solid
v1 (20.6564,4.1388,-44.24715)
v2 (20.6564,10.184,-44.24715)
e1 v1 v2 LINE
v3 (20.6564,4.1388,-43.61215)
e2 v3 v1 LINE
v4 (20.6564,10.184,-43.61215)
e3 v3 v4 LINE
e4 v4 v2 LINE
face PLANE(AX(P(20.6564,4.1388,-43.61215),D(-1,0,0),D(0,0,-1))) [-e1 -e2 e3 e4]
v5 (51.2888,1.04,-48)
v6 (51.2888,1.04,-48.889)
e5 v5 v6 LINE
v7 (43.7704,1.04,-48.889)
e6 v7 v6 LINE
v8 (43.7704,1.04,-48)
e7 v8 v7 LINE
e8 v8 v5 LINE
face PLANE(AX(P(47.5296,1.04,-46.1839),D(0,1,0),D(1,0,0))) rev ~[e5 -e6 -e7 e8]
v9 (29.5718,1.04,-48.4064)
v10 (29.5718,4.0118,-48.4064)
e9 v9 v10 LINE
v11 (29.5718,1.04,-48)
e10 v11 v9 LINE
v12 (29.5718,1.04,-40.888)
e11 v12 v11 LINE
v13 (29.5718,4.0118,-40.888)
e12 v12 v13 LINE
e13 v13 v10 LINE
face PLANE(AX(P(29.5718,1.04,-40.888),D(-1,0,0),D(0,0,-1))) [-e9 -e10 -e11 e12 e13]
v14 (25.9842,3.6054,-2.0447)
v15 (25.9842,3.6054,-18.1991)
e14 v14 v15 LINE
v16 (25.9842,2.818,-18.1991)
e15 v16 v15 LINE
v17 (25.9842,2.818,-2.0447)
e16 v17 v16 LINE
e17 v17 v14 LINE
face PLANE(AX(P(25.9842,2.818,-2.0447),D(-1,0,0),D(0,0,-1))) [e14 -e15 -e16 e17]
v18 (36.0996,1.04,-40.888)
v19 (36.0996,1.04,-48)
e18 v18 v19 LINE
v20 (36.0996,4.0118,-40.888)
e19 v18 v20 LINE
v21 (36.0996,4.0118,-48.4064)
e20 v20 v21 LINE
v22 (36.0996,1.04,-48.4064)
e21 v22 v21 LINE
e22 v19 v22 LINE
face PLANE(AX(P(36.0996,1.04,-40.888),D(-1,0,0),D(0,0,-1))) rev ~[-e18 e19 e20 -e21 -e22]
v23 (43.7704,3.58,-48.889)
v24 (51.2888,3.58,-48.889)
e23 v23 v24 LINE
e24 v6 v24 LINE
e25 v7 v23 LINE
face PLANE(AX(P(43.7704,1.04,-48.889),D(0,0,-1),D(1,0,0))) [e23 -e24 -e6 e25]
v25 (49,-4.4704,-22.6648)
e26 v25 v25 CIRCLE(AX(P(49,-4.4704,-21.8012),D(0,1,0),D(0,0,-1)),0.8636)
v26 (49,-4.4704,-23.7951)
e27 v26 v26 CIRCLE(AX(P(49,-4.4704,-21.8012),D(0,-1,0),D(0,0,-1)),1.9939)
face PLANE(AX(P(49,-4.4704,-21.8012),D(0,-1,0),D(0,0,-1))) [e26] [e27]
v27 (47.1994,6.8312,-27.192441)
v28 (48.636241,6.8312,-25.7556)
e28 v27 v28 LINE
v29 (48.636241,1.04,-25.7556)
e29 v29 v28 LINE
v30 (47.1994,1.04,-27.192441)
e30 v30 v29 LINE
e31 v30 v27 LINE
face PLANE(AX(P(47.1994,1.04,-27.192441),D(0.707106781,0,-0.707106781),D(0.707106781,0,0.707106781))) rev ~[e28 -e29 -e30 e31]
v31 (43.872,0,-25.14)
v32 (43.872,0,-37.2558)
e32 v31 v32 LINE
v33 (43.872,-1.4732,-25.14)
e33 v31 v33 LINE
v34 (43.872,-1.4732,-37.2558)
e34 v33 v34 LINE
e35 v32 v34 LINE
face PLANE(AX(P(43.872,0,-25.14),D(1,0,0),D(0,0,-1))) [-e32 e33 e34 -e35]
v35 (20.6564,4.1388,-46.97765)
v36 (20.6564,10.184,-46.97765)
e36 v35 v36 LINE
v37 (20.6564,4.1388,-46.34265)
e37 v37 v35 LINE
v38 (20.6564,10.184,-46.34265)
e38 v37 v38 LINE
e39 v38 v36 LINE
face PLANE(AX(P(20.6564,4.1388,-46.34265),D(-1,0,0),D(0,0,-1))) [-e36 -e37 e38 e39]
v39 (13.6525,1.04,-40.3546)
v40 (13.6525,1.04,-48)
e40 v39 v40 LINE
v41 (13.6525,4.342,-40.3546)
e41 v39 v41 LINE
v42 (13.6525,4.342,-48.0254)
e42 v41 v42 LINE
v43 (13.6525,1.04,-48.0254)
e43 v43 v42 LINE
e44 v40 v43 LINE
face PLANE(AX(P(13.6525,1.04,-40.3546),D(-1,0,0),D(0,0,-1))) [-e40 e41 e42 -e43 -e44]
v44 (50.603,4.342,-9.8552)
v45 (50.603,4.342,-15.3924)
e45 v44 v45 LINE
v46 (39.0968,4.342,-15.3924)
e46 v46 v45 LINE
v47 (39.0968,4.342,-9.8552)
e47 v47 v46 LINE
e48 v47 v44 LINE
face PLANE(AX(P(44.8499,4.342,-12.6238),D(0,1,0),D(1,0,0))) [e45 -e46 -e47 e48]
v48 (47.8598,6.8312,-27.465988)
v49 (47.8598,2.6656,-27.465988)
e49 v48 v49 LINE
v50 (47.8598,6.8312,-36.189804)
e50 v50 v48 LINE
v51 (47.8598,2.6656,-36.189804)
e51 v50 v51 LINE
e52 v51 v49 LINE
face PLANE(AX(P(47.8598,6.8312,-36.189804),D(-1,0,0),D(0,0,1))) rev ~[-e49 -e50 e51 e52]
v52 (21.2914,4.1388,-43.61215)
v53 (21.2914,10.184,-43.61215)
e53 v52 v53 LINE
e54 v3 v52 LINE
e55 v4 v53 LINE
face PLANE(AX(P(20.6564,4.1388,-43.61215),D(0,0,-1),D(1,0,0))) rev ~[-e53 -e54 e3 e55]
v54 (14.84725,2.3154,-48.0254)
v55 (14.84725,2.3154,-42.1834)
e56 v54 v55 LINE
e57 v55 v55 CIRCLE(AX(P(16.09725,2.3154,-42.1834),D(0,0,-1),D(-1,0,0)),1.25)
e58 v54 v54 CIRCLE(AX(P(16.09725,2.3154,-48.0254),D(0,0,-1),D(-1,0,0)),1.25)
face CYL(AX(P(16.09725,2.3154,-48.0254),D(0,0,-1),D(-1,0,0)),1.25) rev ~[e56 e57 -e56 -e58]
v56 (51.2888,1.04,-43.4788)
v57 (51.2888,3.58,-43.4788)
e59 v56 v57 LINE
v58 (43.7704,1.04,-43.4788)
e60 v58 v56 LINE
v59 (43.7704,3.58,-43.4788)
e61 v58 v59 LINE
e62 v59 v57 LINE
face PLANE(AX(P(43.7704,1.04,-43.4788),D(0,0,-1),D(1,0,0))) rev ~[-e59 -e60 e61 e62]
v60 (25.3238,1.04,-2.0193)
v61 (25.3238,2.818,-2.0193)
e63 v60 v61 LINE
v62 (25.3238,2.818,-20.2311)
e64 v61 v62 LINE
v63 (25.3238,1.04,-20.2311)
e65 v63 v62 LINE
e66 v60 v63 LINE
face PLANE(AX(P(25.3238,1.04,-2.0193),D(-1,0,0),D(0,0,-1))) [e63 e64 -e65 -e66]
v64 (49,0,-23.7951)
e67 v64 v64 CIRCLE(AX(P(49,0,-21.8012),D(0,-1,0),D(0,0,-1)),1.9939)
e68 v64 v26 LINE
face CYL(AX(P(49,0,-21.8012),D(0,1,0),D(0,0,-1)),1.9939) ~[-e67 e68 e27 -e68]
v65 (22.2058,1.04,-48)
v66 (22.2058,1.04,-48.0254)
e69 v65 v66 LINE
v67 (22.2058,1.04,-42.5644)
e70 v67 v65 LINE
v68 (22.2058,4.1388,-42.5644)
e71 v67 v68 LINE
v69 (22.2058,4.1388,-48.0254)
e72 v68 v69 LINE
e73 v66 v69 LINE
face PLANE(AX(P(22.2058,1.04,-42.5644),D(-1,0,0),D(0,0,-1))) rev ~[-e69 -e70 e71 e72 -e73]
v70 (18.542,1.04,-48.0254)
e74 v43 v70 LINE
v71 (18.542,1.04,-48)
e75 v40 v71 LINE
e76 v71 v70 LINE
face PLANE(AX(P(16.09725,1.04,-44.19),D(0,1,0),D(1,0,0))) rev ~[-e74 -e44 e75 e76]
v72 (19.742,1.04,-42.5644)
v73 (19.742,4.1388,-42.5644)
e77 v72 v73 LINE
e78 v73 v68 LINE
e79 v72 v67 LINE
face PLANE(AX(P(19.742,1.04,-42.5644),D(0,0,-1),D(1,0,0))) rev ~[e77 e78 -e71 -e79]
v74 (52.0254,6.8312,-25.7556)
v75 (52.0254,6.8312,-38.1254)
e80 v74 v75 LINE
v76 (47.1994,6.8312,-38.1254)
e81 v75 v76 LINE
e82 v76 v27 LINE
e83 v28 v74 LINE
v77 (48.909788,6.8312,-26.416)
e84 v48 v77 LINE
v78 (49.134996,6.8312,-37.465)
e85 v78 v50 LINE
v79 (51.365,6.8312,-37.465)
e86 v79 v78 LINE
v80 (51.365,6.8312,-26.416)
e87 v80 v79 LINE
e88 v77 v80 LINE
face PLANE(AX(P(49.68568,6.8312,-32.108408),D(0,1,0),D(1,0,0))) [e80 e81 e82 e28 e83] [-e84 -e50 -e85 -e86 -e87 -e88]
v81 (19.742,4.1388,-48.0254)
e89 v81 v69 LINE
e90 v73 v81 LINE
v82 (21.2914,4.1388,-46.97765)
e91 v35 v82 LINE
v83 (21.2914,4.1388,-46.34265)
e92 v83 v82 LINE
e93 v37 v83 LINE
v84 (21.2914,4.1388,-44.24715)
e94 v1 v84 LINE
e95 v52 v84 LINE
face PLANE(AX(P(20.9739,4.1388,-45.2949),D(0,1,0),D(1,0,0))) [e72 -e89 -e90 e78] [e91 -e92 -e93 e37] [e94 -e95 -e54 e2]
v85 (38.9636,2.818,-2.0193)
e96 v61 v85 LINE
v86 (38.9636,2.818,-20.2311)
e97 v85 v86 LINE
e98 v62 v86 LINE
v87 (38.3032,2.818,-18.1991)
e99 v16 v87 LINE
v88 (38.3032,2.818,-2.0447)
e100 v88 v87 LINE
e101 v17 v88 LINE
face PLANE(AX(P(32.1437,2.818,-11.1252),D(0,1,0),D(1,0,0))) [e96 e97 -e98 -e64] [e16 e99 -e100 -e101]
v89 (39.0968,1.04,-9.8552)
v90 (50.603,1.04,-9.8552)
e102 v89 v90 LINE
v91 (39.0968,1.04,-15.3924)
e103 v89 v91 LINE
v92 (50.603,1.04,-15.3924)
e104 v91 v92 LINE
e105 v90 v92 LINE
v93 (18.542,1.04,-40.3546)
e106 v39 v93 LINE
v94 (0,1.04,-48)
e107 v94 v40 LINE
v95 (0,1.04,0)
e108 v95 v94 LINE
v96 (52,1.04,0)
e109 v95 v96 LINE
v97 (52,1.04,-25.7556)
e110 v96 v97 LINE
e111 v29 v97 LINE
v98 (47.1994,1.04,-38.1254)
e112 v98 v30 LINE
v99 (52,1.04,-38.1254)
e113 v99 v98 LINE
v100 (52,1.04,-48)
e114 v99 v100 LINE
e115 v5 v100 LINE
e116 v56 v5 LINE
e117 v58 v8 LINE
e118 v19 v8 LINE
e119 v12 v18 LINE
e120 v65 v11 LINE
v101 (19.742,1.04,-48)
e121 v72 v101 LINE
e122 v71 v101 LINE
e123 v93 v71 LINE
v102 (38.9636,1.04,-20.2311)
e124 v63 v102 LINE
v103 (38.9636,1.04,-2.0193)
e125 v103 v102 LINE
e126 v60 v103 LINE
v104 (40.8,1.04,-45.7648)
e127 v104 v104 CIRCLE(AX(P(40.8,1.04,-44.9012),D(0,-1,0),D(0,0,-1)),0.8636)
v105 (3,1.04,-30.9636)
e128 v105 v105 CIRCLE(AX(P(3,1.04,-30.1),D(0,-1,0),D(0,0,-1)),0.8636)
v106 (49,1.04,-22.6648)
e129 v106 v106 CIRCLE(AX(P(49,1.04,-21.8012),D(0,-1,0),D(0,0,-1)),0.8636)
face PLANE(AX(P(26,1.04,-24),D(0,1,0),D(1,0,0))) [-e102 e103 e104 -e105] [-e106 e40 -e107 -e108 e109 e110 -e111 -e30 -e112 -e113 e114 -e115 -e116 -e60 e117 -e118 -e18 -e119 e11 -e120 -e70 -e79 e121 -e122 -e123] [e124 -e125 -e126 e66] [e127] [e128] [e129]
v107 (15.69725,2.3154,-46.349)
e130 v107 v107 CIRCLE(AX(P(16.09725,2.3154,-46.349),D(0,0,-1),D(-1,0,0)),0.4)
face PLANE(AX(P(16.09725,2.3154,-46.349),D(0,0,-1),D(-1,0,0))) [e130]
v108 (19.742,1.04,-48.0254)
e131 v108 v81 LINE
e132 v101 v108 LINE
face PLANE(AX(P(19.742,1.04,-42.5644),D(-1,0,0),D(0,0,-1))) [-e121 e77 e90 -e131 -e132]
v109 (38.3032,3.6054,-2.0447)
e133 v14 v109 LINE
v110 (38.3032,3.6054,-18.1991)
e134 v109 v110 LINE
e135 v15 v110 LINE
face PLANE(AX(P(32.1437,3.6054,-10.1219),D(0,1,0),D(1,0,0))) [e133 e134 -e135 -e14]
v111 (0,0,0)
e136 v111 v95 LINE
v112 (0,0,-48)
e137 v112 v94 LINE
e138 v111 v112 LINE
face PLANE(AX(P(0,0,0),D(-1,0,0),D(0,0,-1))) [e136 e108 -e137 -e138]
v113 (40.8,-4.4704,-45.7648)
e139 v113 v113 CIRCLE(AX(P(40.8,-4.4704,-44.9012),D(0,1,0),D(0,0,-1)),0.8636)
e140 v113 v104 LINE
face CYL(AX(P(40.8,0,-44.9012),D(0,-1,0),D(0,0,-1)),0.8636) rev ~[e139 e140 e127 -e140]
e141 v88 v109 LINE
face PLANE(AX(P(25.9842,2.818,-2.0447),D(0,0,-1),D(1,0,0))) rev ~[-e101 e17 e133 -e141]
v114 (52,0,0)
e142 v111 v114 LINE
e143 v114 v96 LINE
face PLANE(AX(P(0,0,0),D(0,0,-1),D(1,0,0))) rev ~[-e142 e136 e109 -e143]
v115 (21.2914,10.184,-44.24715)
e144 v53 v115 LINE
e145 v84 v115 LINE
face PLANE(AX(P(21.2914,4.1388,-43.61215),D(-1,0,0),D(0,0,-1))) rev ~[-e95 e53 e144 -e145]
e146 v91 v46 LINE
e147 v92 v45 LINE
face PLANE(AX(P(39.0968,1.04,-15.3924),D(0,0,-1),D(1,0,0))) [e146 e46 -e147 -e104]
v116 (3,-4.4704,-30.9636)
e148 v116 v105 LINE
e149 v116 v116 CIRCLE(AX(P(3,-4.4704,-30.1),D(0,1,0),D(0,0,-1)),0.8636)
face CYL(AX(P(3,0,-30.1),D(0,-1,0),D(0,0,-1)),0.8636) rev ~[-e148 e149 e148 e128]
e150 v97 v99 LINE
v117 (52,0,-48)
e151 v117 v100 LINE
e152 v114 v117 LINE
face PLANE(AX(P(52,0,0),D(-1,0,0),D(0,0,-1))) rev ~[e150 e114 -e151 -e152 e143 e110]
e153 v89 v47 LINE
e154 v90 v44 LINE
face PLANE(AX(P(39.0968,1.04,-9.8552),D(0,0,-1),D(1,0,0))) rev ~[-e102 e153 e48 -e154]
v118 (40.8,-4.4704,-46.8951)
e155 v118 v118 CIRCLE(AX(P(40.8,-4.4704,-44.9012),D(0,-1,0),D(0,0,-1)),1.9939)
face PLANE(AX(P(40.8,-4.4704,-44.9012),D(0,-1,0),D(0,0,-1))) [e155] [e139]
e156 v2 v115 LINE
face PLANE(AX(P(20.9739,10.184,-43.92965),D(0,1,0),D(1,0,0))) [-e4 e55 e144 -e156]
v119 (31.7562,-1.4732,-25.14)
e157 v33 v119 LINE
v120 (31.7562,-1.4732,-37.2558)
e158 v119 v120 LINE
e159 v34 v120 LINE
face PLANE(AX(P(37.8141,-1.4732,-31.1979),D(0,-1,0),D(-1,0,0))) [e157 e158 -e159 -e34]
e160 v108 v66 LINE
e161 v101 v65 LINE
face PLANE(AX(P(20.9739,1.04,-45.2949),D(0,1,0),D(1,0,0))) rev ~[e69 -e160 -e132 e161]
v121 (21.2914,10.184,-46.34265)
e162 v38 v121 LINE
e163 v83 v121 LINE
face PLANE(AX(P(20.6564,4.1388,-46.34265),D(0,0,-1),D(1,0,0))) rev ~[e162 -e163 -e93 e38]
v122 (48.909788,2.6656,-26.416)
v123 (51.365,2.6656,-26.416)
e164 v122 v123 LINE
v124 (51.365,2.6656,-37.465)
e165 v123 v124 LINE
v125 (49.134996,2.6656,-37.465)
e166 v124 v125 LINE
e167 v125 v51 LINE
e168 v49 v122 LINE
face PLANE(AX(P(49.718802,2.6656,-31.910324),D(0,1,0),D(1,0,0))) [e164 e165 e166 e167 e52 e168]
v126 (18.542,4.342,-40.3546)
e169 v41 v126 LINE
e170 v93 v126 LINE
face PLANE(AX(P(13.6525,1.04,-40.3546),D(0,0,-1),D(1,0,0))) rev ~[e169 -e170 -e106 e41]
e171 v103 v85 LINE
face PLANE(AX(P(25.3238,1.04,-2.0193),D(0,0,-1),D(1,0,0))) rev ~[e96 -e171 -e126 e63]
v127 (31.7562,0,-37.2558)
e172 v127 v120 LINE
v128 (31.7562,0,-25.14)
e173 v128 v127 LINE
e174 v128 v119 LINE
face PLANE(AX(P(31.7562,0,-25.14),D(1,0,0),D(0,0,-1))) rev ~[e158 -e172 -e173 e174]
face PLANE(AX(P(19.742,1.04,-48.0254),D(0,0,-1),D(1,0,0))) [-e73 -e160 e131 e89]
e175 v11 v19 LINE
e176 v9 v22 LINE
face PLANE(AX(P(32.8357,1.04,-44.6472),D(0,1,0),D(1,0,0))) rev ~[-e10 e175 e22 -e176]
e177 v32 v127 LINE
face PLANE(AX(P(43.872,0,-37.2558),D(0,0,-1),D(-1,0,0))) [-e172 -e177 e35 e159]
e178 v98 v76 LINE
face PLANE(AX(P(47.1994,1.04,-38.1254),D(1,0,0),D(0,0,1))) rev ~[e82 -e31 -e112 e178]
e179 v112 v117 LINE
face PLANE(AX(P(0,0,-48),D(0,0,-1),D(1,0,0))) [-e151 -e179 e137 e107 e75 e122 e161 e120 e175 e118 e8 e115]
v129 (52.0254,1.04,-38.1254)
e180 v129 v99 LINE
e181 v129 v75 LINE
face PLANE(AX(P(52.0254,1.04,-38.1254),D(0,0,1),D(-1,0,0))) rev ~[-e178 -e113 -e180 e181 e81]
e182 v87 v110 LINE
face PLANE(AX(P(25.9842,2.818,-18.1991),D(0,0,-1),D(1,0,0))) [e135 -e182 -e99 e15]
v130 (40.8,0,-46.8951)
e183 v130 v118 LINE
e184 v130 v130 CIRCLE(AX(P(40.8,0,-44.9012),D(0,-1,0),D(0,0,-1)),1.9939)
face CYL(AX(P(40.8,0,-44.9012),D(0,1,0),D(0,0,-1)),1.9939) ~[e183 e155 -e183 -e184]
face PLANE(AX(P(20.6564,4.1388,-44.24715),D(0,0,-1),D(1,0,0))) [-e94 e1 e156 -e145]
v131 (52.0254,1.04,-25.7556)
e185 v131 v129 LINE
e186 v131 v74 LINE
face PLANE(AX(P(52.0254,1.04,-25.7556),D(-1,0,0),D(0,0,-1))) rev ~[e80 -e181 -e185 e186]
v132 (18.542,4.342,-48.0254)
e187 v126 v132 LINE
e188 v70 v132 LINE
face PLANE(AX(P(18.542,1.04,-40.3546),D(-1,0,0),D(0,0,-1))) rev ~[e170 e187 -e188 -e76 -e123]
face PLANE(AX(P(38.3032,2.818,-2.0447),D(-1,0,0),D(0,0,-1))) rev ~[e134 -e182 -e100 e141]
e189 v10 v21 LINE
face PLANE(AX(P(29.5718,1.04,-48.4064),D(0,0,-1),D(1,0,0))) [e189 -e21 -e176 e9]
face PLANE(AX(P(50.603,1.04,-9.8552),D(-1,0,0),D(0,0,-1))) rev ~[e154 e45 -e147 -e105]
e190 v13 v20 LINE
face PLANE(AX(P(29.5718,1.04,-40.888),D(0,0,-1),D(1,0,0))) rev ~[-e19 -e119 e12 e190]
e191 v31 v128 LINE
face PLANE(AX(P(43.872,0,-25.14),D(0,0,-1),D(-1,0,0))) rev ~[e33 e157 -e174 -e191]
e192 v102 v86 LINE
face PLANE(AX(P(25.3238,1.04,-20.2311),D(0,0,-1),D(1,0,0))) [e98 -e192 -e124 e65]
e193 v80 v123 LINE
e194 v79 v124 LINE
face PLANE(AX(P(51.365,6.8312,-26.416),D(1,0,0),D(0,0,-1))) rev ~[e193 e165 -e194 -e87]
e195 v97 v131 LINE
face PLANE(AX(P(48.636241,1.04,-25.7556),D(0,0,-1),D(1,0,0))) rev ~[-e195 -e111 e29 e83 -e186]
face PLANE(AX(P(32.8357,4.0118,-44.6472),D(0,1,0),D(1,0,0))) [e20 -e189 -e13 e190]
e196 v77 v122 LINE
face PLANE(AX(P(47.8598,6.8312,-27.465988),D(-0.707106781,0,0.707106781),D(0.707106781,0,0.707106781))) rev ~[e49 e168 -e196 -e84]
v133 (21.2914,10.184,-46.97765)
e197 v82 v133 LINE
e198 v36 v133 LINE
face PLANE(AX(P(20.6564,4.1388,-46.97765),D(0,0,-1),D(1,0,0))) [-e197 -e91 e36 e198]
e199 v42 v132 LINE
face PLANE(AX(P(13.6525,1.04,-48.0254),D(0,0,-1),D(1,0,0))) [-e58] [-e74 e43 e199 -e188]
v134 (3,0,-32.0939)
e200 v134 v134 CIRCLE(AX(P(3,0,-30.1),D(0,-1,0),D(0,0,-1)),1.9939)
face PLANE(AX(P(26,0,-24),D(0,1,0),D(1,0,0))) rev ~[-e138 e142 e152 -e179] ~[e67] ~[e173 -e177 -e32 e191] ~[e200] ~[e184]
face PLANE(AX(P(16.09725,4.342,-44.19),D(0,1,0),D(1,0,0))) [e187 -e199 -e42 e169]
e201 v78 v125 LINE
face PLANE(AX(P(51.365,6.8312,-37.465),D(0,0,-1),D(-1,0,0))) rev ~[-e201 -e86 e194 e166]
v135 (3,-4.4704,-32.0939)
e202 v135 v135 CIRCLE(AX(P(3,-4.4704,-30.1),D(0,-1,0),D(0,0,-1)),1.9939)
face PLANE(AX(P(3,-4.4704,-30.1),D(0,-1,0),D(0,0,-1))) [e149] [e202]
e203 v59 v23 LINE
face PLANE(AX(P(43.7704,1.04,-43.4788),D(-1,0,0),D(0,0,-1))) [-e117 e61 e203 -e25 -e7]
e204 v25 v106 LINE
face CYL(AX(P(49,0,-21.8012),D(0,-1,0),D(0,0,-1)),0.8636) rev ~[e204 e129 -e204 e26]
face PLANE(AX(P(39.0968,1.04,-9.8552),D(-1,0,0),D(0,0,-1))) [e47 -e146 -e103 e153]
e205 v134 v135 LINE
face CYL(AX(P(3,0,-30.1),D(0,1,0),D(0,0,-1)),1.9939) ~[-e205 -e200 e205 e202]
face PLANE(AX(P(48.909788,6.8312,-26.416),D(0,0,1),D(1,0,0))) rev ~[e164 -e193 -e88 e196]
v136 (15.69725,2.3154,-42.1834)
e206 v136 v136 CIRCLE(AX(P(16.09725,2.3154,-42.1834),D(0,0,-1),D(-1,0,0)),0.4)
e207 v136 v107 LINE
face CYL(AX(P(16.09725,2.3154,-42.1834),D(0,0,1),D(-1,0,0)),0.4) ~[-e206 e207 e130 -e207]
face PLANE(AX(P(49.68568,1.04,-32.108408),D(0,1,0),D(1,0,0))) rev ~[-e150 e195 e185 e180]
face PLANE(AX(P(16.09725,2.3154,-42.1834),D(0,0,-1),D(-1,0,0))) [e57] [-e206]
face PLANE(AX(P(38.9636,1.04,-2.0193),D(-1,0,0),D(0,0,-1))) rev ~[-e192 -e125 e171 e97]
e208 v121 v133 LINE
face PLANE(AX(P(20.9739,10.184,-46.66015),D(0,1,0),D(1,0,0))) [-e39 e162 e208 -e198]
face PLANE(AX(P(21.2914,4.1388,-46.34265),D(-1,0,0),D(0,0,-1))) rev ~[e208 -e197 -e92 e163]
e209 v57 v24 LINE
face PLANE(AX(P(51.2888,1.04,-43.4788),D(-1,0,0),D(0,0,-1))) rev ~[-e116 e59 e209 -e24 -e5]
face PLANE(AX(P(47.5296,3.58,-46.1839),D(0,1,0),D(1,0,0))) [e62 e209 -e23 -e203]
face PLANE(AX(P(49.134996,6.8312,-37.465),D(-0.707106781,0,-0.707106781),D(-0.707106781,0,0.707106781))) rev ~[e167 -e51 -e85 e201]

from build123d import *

# Parameters (mm, degrees)
SKETCH1_W                  = 52
SKETCH1_H                  = 48
BASE_DEPTH                 = 1.04
SKETCH8_W                  = 4.8895
SKETCH8_H                  = 7.6708
DC_POWER_DEPTH             = 3.302
SKETCH9_R                  = 1.25
DC_POWER_HOLE_DEPTH        = 5.842
SKETCH10_R                 = 0.4
DC_POWER_PIN_DEPTH         = 4.1656
SKETCH11_W                 = 2.4638
SKETCH11_H                 = 5.461
PWM_PIN_BASE_DEPTH         = 3.0988
SKETCH12_W                 = 0.635
SKETCH12_H                 = 0.635
PWM_PINS_DEPTH             = 6.0452
SKETCH13_W                 = 6.5278
SKETCH13_H                 = 7.5184
MICRO_HDMI_PORT_DEPTH      = 2.9718
SKETCH14_W                 = 7.5184
SKETCH14_H                 = 5.4102
MICRO_USB_PORT_DEPTH       = 2.54
HEADER_HOLE_REACH          = 74.096
SKETCH15_R                 = 0.8636
SKETCH16_R                 = 1.9939
STANDOFFS_1_DEPTH          = 4.4704
SKETCH17_R                 = 1.9939
SHORT_STANDOFF_DEPTH       = 4.4704
THREADS_IN_STANDOFFS_REACH = 74.096
SKETCH19_R                 = 0.8636
SKETCH20_W                 = 12.1158
SKETCH20_H                 = 12.1158
CPU_DEPTH                  = 1.4732
UART_PLASTIC_DEPTH         = 5.7912
UART_HOLE_DEPTH            = 4.1656
SKETCH23_W                 = 11.5062
SKETCH23_H                 = 5.5372
MICROSD_DEPTH              = 3.302
SKETCH24_W                 = 13.6398
SKETCH24_H                 = 18.2118
EMMC_BOARD_DEPTH           = 1.778
SKETCH25_W                 = 12.319
SKETCH25_H                 = 16.1544
EMMC_CHIP_DEPTH            = 0.7874


with BuildPart() as part:
    # Sketch1 → Base (new body)
    with BuildSketch(Plane(origin=(0, 0, 0), x_dir=(1, 0, 0), z_dir=(0, 1, 0))):
        with Locations((26, 24)):
            Rectangle(SKETCH1_W, SKETCH1_H)
    extrude(amount=BASE_DEPTH)

    # Sketch8 → DC power (add)
    with BuildSketch(Plane(origin=(0, 1.04, 0), x_dir=(1, 0, 0), z_dir=(0, 1, 0))):
        with Locations((16.09725, 44.19)):
            Rectangle(SKETCH8_W, SKETCH8_H)
    extrude(amount=DC_POWER_DEPTH)

    # Sketch9 → DC power hole (cut)
    with BuildSketch(Plane(origin=(0, 0, -48.0254), x_dir=(-1, 0, 0), z_dir=(0, 0, -1))):
        with Locations((-16.09725, 2.3154)):
            Circle(SKETCH9_R)
    extrude(amount=-DC_POWER_HOLE_DEPTH, mode=Mode.SUBTRACT)

    # Sketch10 → DC power pin (add)
    with BuildSketch(Plane(origin=(0, 0, -42.1834), x_dir=(-1, 0, 0), z_dir=(0, 0, -1))):
        with Locations((-16.09725, 2.3154)):
            Circle(SKETCH10_R)
    extrude(amount=DC_POWER_PIN_DEPTH)

    # Sketch11 → PWM pin base (add)
    with BuildSketch(Plane(origin=(0, 1.04, 0), x_dir=(1, 0, 0), z_dir=(0, 1, 0))):
        with Locations((20.9739, 45.2949)):
            Rectangle(SKETCH11_W, SKETCH11_H)
    extrude(amount=PWM_PIN_BASE_DEPTH)

    # Sketch12 → PWM pins (add)
    with BuildSketch(Plane(origin=(0, 4.1388, 0), x_dir=(1, 0, 0), z_dir=(0, 1, 0))):
        with Locations((20.9739, 43.92965)):
            Rectangle(SKETCH12_W, SKETCH12_H)
        with Locations((20.9739, 46.66015)):
            Rectangle(SKETCH12_W, SKETCH12_H)
    extrude(amount=PWM_PINS_DEPTH)

    # Sketch13 → Micro HDMI port (add)
    with BuildSketch(Plane(origin=(0, 1.04, 0), x_dir=(1, 0, 0), z_dir=(0, 1, 0))):
        with Locations((32.8357, 44.6472)):
            Rectangle(SKETCH13_W, SKETCH13_H)
    extrude(amount=MICRO_HDMI_PORT_DEPTH)

    # Sketch14 → Micro USB port (add)
    with BuildSketch(Plane(origin=(0, 1.04, 0), x_dir=(1, 0, 0), z_dir=(0, 1, 0))):
        with Locations((47.5296, 46.1839)):
            Rectangle(SKETCH14_W, SKETCH14_H)
    extrude(amount=MICRO_USB_PORT_DEPTH)

    # Sketch15 → Header hole (cut, up to next)
    with BuildSketch(Plane(origin=(0, 0, 0), x_dir=(-1, 0, 0), z_dir=(0, -1, 0)), mode=Mode.PRIVATE) as header_hole_sk1:
        with Locations(Location((-3, 30.1, 0), (0, 0, 90))):
            Circle(SKETCH15_R)
    header_hole_tool1 = extrude(header_hole_sk1.sketch, amount=-HEADER_HOLE_REACH, mode=Mode.PRIVATE) & part.part
    # Sketch15 → Header hole (cut, up to next)
    with BuildSketch(Plane(origin=(0, 0, 0), x_dir=(-1, 0, 0), z_dir=(0, -1, 0)), mode=Mode.PRIVATE) as header_hole_sk2:
        with Locations(Location((-49, 21.8012, 0), (0, 0, 90))):
            Circle(SKETCH15_R)
    header_hole_tool2 = extrude(header_hole_sk2.sketch, amount=-HEADER_HOLE_REACH, mode=Mode.PRIVATE) & part.part
    # Sketch15 → Header hole (cut, up to next)
    with BuildSketch(Plane(origin=(0, 0, 0), x_dir=(-1, 0, 0), z_dir=(0, -1, 0)), mode=Mode.PRIVATE) as header_hole_sk3:
        with Locations(Location((-40.8, 44.9012, 0), (0, 0, 90))):
            Circle(SKETCH15_R)
    header_hole_tool3 = extrude(header_hole_sk3.sketch, amount=-HEADER_HOLE_REACH, mode=Mode.PRIVATE) & part.part
    add(header_hole_tool1.solids().sort_by_distance((3, 0, -30.1))[0], mode=Mode.SUBTRACT)
    add(header_hole_tool2.solids().sort_by_distance((49, 0, -21.8012))[0], mode=Mode.SUBTRACT)
    add(header_hole_tool3.solids().sort_by_distance((40.8, 0, -44.9012))[0], mode=Mode.SUBTRACT)

    # Sketch16 → Standoffs 1 (add)
    with BuildSketch(Plane.XZ):
        with Locations(Location((49, -21.8012, 0), (0, 0, 270))):
            Circle(SKETCH16_R)
        with Locations(Location((3, -30.1, 0), (0, 0, 270))):
            Circle(SKETCH16_R)
    extrude(amount=STANDOFFS_1_DEPTH)

    # Sketch17 → Short standoff (add)
    with BuildSketch(Plane.XZ):
        with Locations(Location((40.8, -44.9012, 0), (0, 0, 270))):
            Circle(SKETCH17_R)
    extrude(amount=SHORT_STANDOFF_DEPTH)

    # Sketch19 → Threads in standoffs (cut, up to next)
    with BuildSketch(Plane.XZ, mode=Mode.PRIVATE) as threads_in_standoffs_sk1:
        with Locations(Location((40.8, -44.9012, 0), (0, 0, 270))):
            Circle(SKETCH19_R)
    threads_in_standoffs_tool1 = extrude(threads_in_standoffs_sk1.sketch, amount=THREADS_IN_STANDOFFS_REACH, mode=Mode.PRIVATE) & part.part
    # Sketch19 → Threads in standoffs (cut, up to next)
    with BuildSketch(Plane.XZ, mode=Mode.PRIVATE) as threads_in_standoffs_sk2:
        with Locations(Location((49, -21.8012, 0), (0, 0, 270))):
            Circle(SKETCH19_R)
    threads_in_standoffs_tool2 = extrude(threads_in_standoffs_sk2.sketch, amount=THREADS_IN_STANDOFFS_REACH, mode=Mode.PRIVATE) & part.part
    # Sketch19 → Threads in standoffs (cut, up to next)
    with BuildSketch(Plane.XZ, mode=Mode.PRIVATE) as threads_in_standoffs_sk3:
        with Locations(Location((3, -30.1, 0), (0, 0, 270))):
            Circle(SKETCH19_R)
    threads_in_standoffs_tool3 = extrude(threads_in_standoffs_sk3.sketch, amount=THREADS_IN_STANDOFFS_REACH, mode=Mode.PRIVATE) & part.part
    add(threads_in_standoffs_tool1.solids().sort_by_distance((40.8, 0, -44.9012))[0], mode=Mode.SUBTRACT)
    add(threads_in_standoffs_tool2.solids().sort_by_distance((49, 0, -21.8012))[0], mode=Mode.SUBTRACT)
    add(threads_in_standoffs_tool3.solids().sort_by_distance((3, 0, -30.1))[0], mode=Mode.SUBTRACT)

    # Sketch20 → CPU (add)
    with BuildSketch(Plane(origin=(0, 0, 0), x_dir=(-1, 0, 0), z_dir=(0, -1, 0))):
        with Locations((-37.8141, 31.1979)):
            Rectangle(SKETCH20_W, SKETCH20_H)
    extrude(amount=CPU_DEPTH)

    # Sketch21 → UART plastic (add)
    with BuildSketch(Plane(origin=(0, 1.04, 0), x_dir=(1, 0, 0), z_dir=(0, 1, 0))):
        Polygon((52.0254, 38.1254), (47.1994, 38.1254), (47.1994, 27.192440979), (48.636240979, 25.7556), (52.0254, 25.7556), align=None)
    extrude(amount=UART_PLASTIC_DEPTH)

    # Sketch22 → UART hole (cut)
    with BuildSketch(Plane(origin=(0, 6.8312, 0), x_dir=(1, 0, 0), z_dir=(0, 1, 0))):
        Polygon((51.365, 37.465), (49.134996369, 37.465), (47.8598, 36.189803631), (47.8598, 27.465987616), (48.909787616, 26.416), (51.365, 26.416), align=None)
    extrude(amount=-UART_HOLE_DEPTH, mode=Mode.SUBTRACT)

    # Sketch23 → MicroSD (add)
    with BuildSketch(Plane(origin=(0, 1.04, 0), x_dir=(1, 0, 0), z_dir=(0, 1, 0))):
        with Locations((44.8499, 12.6238)):
            Rectangle(SKETCH23_W, SKETCH23_H)
    extrude(amount=MICROSD_DEPTH)

    # Sketch24 → eMMC board (add)
    with BuildSketch(Plane(origin=(0, 1.04, 0), x_dir=(1, 0, 0), z_dir=(0, 1, 0))):
        with Locations((32.1437, 11.1252)):
            Rectangle(SKETCH24_W, SKETCH24_H)
    extrude(amount=EMMC_BOARD_DEPTH)

    # Sketch25 → eMMC chip (add)
    with BuildSketch(Plane(origin=(0, 2.818, 0), x_dir=(1, 0, 0), z_dir=(0, 1, 0))):
        with Locations((32.1437, 10.1219)):
            Rectangle(SKETCH25_W, SKETCH25_H)
    extrude(amount=EMMC_CHIP_DEPTH)


solid = part.part
